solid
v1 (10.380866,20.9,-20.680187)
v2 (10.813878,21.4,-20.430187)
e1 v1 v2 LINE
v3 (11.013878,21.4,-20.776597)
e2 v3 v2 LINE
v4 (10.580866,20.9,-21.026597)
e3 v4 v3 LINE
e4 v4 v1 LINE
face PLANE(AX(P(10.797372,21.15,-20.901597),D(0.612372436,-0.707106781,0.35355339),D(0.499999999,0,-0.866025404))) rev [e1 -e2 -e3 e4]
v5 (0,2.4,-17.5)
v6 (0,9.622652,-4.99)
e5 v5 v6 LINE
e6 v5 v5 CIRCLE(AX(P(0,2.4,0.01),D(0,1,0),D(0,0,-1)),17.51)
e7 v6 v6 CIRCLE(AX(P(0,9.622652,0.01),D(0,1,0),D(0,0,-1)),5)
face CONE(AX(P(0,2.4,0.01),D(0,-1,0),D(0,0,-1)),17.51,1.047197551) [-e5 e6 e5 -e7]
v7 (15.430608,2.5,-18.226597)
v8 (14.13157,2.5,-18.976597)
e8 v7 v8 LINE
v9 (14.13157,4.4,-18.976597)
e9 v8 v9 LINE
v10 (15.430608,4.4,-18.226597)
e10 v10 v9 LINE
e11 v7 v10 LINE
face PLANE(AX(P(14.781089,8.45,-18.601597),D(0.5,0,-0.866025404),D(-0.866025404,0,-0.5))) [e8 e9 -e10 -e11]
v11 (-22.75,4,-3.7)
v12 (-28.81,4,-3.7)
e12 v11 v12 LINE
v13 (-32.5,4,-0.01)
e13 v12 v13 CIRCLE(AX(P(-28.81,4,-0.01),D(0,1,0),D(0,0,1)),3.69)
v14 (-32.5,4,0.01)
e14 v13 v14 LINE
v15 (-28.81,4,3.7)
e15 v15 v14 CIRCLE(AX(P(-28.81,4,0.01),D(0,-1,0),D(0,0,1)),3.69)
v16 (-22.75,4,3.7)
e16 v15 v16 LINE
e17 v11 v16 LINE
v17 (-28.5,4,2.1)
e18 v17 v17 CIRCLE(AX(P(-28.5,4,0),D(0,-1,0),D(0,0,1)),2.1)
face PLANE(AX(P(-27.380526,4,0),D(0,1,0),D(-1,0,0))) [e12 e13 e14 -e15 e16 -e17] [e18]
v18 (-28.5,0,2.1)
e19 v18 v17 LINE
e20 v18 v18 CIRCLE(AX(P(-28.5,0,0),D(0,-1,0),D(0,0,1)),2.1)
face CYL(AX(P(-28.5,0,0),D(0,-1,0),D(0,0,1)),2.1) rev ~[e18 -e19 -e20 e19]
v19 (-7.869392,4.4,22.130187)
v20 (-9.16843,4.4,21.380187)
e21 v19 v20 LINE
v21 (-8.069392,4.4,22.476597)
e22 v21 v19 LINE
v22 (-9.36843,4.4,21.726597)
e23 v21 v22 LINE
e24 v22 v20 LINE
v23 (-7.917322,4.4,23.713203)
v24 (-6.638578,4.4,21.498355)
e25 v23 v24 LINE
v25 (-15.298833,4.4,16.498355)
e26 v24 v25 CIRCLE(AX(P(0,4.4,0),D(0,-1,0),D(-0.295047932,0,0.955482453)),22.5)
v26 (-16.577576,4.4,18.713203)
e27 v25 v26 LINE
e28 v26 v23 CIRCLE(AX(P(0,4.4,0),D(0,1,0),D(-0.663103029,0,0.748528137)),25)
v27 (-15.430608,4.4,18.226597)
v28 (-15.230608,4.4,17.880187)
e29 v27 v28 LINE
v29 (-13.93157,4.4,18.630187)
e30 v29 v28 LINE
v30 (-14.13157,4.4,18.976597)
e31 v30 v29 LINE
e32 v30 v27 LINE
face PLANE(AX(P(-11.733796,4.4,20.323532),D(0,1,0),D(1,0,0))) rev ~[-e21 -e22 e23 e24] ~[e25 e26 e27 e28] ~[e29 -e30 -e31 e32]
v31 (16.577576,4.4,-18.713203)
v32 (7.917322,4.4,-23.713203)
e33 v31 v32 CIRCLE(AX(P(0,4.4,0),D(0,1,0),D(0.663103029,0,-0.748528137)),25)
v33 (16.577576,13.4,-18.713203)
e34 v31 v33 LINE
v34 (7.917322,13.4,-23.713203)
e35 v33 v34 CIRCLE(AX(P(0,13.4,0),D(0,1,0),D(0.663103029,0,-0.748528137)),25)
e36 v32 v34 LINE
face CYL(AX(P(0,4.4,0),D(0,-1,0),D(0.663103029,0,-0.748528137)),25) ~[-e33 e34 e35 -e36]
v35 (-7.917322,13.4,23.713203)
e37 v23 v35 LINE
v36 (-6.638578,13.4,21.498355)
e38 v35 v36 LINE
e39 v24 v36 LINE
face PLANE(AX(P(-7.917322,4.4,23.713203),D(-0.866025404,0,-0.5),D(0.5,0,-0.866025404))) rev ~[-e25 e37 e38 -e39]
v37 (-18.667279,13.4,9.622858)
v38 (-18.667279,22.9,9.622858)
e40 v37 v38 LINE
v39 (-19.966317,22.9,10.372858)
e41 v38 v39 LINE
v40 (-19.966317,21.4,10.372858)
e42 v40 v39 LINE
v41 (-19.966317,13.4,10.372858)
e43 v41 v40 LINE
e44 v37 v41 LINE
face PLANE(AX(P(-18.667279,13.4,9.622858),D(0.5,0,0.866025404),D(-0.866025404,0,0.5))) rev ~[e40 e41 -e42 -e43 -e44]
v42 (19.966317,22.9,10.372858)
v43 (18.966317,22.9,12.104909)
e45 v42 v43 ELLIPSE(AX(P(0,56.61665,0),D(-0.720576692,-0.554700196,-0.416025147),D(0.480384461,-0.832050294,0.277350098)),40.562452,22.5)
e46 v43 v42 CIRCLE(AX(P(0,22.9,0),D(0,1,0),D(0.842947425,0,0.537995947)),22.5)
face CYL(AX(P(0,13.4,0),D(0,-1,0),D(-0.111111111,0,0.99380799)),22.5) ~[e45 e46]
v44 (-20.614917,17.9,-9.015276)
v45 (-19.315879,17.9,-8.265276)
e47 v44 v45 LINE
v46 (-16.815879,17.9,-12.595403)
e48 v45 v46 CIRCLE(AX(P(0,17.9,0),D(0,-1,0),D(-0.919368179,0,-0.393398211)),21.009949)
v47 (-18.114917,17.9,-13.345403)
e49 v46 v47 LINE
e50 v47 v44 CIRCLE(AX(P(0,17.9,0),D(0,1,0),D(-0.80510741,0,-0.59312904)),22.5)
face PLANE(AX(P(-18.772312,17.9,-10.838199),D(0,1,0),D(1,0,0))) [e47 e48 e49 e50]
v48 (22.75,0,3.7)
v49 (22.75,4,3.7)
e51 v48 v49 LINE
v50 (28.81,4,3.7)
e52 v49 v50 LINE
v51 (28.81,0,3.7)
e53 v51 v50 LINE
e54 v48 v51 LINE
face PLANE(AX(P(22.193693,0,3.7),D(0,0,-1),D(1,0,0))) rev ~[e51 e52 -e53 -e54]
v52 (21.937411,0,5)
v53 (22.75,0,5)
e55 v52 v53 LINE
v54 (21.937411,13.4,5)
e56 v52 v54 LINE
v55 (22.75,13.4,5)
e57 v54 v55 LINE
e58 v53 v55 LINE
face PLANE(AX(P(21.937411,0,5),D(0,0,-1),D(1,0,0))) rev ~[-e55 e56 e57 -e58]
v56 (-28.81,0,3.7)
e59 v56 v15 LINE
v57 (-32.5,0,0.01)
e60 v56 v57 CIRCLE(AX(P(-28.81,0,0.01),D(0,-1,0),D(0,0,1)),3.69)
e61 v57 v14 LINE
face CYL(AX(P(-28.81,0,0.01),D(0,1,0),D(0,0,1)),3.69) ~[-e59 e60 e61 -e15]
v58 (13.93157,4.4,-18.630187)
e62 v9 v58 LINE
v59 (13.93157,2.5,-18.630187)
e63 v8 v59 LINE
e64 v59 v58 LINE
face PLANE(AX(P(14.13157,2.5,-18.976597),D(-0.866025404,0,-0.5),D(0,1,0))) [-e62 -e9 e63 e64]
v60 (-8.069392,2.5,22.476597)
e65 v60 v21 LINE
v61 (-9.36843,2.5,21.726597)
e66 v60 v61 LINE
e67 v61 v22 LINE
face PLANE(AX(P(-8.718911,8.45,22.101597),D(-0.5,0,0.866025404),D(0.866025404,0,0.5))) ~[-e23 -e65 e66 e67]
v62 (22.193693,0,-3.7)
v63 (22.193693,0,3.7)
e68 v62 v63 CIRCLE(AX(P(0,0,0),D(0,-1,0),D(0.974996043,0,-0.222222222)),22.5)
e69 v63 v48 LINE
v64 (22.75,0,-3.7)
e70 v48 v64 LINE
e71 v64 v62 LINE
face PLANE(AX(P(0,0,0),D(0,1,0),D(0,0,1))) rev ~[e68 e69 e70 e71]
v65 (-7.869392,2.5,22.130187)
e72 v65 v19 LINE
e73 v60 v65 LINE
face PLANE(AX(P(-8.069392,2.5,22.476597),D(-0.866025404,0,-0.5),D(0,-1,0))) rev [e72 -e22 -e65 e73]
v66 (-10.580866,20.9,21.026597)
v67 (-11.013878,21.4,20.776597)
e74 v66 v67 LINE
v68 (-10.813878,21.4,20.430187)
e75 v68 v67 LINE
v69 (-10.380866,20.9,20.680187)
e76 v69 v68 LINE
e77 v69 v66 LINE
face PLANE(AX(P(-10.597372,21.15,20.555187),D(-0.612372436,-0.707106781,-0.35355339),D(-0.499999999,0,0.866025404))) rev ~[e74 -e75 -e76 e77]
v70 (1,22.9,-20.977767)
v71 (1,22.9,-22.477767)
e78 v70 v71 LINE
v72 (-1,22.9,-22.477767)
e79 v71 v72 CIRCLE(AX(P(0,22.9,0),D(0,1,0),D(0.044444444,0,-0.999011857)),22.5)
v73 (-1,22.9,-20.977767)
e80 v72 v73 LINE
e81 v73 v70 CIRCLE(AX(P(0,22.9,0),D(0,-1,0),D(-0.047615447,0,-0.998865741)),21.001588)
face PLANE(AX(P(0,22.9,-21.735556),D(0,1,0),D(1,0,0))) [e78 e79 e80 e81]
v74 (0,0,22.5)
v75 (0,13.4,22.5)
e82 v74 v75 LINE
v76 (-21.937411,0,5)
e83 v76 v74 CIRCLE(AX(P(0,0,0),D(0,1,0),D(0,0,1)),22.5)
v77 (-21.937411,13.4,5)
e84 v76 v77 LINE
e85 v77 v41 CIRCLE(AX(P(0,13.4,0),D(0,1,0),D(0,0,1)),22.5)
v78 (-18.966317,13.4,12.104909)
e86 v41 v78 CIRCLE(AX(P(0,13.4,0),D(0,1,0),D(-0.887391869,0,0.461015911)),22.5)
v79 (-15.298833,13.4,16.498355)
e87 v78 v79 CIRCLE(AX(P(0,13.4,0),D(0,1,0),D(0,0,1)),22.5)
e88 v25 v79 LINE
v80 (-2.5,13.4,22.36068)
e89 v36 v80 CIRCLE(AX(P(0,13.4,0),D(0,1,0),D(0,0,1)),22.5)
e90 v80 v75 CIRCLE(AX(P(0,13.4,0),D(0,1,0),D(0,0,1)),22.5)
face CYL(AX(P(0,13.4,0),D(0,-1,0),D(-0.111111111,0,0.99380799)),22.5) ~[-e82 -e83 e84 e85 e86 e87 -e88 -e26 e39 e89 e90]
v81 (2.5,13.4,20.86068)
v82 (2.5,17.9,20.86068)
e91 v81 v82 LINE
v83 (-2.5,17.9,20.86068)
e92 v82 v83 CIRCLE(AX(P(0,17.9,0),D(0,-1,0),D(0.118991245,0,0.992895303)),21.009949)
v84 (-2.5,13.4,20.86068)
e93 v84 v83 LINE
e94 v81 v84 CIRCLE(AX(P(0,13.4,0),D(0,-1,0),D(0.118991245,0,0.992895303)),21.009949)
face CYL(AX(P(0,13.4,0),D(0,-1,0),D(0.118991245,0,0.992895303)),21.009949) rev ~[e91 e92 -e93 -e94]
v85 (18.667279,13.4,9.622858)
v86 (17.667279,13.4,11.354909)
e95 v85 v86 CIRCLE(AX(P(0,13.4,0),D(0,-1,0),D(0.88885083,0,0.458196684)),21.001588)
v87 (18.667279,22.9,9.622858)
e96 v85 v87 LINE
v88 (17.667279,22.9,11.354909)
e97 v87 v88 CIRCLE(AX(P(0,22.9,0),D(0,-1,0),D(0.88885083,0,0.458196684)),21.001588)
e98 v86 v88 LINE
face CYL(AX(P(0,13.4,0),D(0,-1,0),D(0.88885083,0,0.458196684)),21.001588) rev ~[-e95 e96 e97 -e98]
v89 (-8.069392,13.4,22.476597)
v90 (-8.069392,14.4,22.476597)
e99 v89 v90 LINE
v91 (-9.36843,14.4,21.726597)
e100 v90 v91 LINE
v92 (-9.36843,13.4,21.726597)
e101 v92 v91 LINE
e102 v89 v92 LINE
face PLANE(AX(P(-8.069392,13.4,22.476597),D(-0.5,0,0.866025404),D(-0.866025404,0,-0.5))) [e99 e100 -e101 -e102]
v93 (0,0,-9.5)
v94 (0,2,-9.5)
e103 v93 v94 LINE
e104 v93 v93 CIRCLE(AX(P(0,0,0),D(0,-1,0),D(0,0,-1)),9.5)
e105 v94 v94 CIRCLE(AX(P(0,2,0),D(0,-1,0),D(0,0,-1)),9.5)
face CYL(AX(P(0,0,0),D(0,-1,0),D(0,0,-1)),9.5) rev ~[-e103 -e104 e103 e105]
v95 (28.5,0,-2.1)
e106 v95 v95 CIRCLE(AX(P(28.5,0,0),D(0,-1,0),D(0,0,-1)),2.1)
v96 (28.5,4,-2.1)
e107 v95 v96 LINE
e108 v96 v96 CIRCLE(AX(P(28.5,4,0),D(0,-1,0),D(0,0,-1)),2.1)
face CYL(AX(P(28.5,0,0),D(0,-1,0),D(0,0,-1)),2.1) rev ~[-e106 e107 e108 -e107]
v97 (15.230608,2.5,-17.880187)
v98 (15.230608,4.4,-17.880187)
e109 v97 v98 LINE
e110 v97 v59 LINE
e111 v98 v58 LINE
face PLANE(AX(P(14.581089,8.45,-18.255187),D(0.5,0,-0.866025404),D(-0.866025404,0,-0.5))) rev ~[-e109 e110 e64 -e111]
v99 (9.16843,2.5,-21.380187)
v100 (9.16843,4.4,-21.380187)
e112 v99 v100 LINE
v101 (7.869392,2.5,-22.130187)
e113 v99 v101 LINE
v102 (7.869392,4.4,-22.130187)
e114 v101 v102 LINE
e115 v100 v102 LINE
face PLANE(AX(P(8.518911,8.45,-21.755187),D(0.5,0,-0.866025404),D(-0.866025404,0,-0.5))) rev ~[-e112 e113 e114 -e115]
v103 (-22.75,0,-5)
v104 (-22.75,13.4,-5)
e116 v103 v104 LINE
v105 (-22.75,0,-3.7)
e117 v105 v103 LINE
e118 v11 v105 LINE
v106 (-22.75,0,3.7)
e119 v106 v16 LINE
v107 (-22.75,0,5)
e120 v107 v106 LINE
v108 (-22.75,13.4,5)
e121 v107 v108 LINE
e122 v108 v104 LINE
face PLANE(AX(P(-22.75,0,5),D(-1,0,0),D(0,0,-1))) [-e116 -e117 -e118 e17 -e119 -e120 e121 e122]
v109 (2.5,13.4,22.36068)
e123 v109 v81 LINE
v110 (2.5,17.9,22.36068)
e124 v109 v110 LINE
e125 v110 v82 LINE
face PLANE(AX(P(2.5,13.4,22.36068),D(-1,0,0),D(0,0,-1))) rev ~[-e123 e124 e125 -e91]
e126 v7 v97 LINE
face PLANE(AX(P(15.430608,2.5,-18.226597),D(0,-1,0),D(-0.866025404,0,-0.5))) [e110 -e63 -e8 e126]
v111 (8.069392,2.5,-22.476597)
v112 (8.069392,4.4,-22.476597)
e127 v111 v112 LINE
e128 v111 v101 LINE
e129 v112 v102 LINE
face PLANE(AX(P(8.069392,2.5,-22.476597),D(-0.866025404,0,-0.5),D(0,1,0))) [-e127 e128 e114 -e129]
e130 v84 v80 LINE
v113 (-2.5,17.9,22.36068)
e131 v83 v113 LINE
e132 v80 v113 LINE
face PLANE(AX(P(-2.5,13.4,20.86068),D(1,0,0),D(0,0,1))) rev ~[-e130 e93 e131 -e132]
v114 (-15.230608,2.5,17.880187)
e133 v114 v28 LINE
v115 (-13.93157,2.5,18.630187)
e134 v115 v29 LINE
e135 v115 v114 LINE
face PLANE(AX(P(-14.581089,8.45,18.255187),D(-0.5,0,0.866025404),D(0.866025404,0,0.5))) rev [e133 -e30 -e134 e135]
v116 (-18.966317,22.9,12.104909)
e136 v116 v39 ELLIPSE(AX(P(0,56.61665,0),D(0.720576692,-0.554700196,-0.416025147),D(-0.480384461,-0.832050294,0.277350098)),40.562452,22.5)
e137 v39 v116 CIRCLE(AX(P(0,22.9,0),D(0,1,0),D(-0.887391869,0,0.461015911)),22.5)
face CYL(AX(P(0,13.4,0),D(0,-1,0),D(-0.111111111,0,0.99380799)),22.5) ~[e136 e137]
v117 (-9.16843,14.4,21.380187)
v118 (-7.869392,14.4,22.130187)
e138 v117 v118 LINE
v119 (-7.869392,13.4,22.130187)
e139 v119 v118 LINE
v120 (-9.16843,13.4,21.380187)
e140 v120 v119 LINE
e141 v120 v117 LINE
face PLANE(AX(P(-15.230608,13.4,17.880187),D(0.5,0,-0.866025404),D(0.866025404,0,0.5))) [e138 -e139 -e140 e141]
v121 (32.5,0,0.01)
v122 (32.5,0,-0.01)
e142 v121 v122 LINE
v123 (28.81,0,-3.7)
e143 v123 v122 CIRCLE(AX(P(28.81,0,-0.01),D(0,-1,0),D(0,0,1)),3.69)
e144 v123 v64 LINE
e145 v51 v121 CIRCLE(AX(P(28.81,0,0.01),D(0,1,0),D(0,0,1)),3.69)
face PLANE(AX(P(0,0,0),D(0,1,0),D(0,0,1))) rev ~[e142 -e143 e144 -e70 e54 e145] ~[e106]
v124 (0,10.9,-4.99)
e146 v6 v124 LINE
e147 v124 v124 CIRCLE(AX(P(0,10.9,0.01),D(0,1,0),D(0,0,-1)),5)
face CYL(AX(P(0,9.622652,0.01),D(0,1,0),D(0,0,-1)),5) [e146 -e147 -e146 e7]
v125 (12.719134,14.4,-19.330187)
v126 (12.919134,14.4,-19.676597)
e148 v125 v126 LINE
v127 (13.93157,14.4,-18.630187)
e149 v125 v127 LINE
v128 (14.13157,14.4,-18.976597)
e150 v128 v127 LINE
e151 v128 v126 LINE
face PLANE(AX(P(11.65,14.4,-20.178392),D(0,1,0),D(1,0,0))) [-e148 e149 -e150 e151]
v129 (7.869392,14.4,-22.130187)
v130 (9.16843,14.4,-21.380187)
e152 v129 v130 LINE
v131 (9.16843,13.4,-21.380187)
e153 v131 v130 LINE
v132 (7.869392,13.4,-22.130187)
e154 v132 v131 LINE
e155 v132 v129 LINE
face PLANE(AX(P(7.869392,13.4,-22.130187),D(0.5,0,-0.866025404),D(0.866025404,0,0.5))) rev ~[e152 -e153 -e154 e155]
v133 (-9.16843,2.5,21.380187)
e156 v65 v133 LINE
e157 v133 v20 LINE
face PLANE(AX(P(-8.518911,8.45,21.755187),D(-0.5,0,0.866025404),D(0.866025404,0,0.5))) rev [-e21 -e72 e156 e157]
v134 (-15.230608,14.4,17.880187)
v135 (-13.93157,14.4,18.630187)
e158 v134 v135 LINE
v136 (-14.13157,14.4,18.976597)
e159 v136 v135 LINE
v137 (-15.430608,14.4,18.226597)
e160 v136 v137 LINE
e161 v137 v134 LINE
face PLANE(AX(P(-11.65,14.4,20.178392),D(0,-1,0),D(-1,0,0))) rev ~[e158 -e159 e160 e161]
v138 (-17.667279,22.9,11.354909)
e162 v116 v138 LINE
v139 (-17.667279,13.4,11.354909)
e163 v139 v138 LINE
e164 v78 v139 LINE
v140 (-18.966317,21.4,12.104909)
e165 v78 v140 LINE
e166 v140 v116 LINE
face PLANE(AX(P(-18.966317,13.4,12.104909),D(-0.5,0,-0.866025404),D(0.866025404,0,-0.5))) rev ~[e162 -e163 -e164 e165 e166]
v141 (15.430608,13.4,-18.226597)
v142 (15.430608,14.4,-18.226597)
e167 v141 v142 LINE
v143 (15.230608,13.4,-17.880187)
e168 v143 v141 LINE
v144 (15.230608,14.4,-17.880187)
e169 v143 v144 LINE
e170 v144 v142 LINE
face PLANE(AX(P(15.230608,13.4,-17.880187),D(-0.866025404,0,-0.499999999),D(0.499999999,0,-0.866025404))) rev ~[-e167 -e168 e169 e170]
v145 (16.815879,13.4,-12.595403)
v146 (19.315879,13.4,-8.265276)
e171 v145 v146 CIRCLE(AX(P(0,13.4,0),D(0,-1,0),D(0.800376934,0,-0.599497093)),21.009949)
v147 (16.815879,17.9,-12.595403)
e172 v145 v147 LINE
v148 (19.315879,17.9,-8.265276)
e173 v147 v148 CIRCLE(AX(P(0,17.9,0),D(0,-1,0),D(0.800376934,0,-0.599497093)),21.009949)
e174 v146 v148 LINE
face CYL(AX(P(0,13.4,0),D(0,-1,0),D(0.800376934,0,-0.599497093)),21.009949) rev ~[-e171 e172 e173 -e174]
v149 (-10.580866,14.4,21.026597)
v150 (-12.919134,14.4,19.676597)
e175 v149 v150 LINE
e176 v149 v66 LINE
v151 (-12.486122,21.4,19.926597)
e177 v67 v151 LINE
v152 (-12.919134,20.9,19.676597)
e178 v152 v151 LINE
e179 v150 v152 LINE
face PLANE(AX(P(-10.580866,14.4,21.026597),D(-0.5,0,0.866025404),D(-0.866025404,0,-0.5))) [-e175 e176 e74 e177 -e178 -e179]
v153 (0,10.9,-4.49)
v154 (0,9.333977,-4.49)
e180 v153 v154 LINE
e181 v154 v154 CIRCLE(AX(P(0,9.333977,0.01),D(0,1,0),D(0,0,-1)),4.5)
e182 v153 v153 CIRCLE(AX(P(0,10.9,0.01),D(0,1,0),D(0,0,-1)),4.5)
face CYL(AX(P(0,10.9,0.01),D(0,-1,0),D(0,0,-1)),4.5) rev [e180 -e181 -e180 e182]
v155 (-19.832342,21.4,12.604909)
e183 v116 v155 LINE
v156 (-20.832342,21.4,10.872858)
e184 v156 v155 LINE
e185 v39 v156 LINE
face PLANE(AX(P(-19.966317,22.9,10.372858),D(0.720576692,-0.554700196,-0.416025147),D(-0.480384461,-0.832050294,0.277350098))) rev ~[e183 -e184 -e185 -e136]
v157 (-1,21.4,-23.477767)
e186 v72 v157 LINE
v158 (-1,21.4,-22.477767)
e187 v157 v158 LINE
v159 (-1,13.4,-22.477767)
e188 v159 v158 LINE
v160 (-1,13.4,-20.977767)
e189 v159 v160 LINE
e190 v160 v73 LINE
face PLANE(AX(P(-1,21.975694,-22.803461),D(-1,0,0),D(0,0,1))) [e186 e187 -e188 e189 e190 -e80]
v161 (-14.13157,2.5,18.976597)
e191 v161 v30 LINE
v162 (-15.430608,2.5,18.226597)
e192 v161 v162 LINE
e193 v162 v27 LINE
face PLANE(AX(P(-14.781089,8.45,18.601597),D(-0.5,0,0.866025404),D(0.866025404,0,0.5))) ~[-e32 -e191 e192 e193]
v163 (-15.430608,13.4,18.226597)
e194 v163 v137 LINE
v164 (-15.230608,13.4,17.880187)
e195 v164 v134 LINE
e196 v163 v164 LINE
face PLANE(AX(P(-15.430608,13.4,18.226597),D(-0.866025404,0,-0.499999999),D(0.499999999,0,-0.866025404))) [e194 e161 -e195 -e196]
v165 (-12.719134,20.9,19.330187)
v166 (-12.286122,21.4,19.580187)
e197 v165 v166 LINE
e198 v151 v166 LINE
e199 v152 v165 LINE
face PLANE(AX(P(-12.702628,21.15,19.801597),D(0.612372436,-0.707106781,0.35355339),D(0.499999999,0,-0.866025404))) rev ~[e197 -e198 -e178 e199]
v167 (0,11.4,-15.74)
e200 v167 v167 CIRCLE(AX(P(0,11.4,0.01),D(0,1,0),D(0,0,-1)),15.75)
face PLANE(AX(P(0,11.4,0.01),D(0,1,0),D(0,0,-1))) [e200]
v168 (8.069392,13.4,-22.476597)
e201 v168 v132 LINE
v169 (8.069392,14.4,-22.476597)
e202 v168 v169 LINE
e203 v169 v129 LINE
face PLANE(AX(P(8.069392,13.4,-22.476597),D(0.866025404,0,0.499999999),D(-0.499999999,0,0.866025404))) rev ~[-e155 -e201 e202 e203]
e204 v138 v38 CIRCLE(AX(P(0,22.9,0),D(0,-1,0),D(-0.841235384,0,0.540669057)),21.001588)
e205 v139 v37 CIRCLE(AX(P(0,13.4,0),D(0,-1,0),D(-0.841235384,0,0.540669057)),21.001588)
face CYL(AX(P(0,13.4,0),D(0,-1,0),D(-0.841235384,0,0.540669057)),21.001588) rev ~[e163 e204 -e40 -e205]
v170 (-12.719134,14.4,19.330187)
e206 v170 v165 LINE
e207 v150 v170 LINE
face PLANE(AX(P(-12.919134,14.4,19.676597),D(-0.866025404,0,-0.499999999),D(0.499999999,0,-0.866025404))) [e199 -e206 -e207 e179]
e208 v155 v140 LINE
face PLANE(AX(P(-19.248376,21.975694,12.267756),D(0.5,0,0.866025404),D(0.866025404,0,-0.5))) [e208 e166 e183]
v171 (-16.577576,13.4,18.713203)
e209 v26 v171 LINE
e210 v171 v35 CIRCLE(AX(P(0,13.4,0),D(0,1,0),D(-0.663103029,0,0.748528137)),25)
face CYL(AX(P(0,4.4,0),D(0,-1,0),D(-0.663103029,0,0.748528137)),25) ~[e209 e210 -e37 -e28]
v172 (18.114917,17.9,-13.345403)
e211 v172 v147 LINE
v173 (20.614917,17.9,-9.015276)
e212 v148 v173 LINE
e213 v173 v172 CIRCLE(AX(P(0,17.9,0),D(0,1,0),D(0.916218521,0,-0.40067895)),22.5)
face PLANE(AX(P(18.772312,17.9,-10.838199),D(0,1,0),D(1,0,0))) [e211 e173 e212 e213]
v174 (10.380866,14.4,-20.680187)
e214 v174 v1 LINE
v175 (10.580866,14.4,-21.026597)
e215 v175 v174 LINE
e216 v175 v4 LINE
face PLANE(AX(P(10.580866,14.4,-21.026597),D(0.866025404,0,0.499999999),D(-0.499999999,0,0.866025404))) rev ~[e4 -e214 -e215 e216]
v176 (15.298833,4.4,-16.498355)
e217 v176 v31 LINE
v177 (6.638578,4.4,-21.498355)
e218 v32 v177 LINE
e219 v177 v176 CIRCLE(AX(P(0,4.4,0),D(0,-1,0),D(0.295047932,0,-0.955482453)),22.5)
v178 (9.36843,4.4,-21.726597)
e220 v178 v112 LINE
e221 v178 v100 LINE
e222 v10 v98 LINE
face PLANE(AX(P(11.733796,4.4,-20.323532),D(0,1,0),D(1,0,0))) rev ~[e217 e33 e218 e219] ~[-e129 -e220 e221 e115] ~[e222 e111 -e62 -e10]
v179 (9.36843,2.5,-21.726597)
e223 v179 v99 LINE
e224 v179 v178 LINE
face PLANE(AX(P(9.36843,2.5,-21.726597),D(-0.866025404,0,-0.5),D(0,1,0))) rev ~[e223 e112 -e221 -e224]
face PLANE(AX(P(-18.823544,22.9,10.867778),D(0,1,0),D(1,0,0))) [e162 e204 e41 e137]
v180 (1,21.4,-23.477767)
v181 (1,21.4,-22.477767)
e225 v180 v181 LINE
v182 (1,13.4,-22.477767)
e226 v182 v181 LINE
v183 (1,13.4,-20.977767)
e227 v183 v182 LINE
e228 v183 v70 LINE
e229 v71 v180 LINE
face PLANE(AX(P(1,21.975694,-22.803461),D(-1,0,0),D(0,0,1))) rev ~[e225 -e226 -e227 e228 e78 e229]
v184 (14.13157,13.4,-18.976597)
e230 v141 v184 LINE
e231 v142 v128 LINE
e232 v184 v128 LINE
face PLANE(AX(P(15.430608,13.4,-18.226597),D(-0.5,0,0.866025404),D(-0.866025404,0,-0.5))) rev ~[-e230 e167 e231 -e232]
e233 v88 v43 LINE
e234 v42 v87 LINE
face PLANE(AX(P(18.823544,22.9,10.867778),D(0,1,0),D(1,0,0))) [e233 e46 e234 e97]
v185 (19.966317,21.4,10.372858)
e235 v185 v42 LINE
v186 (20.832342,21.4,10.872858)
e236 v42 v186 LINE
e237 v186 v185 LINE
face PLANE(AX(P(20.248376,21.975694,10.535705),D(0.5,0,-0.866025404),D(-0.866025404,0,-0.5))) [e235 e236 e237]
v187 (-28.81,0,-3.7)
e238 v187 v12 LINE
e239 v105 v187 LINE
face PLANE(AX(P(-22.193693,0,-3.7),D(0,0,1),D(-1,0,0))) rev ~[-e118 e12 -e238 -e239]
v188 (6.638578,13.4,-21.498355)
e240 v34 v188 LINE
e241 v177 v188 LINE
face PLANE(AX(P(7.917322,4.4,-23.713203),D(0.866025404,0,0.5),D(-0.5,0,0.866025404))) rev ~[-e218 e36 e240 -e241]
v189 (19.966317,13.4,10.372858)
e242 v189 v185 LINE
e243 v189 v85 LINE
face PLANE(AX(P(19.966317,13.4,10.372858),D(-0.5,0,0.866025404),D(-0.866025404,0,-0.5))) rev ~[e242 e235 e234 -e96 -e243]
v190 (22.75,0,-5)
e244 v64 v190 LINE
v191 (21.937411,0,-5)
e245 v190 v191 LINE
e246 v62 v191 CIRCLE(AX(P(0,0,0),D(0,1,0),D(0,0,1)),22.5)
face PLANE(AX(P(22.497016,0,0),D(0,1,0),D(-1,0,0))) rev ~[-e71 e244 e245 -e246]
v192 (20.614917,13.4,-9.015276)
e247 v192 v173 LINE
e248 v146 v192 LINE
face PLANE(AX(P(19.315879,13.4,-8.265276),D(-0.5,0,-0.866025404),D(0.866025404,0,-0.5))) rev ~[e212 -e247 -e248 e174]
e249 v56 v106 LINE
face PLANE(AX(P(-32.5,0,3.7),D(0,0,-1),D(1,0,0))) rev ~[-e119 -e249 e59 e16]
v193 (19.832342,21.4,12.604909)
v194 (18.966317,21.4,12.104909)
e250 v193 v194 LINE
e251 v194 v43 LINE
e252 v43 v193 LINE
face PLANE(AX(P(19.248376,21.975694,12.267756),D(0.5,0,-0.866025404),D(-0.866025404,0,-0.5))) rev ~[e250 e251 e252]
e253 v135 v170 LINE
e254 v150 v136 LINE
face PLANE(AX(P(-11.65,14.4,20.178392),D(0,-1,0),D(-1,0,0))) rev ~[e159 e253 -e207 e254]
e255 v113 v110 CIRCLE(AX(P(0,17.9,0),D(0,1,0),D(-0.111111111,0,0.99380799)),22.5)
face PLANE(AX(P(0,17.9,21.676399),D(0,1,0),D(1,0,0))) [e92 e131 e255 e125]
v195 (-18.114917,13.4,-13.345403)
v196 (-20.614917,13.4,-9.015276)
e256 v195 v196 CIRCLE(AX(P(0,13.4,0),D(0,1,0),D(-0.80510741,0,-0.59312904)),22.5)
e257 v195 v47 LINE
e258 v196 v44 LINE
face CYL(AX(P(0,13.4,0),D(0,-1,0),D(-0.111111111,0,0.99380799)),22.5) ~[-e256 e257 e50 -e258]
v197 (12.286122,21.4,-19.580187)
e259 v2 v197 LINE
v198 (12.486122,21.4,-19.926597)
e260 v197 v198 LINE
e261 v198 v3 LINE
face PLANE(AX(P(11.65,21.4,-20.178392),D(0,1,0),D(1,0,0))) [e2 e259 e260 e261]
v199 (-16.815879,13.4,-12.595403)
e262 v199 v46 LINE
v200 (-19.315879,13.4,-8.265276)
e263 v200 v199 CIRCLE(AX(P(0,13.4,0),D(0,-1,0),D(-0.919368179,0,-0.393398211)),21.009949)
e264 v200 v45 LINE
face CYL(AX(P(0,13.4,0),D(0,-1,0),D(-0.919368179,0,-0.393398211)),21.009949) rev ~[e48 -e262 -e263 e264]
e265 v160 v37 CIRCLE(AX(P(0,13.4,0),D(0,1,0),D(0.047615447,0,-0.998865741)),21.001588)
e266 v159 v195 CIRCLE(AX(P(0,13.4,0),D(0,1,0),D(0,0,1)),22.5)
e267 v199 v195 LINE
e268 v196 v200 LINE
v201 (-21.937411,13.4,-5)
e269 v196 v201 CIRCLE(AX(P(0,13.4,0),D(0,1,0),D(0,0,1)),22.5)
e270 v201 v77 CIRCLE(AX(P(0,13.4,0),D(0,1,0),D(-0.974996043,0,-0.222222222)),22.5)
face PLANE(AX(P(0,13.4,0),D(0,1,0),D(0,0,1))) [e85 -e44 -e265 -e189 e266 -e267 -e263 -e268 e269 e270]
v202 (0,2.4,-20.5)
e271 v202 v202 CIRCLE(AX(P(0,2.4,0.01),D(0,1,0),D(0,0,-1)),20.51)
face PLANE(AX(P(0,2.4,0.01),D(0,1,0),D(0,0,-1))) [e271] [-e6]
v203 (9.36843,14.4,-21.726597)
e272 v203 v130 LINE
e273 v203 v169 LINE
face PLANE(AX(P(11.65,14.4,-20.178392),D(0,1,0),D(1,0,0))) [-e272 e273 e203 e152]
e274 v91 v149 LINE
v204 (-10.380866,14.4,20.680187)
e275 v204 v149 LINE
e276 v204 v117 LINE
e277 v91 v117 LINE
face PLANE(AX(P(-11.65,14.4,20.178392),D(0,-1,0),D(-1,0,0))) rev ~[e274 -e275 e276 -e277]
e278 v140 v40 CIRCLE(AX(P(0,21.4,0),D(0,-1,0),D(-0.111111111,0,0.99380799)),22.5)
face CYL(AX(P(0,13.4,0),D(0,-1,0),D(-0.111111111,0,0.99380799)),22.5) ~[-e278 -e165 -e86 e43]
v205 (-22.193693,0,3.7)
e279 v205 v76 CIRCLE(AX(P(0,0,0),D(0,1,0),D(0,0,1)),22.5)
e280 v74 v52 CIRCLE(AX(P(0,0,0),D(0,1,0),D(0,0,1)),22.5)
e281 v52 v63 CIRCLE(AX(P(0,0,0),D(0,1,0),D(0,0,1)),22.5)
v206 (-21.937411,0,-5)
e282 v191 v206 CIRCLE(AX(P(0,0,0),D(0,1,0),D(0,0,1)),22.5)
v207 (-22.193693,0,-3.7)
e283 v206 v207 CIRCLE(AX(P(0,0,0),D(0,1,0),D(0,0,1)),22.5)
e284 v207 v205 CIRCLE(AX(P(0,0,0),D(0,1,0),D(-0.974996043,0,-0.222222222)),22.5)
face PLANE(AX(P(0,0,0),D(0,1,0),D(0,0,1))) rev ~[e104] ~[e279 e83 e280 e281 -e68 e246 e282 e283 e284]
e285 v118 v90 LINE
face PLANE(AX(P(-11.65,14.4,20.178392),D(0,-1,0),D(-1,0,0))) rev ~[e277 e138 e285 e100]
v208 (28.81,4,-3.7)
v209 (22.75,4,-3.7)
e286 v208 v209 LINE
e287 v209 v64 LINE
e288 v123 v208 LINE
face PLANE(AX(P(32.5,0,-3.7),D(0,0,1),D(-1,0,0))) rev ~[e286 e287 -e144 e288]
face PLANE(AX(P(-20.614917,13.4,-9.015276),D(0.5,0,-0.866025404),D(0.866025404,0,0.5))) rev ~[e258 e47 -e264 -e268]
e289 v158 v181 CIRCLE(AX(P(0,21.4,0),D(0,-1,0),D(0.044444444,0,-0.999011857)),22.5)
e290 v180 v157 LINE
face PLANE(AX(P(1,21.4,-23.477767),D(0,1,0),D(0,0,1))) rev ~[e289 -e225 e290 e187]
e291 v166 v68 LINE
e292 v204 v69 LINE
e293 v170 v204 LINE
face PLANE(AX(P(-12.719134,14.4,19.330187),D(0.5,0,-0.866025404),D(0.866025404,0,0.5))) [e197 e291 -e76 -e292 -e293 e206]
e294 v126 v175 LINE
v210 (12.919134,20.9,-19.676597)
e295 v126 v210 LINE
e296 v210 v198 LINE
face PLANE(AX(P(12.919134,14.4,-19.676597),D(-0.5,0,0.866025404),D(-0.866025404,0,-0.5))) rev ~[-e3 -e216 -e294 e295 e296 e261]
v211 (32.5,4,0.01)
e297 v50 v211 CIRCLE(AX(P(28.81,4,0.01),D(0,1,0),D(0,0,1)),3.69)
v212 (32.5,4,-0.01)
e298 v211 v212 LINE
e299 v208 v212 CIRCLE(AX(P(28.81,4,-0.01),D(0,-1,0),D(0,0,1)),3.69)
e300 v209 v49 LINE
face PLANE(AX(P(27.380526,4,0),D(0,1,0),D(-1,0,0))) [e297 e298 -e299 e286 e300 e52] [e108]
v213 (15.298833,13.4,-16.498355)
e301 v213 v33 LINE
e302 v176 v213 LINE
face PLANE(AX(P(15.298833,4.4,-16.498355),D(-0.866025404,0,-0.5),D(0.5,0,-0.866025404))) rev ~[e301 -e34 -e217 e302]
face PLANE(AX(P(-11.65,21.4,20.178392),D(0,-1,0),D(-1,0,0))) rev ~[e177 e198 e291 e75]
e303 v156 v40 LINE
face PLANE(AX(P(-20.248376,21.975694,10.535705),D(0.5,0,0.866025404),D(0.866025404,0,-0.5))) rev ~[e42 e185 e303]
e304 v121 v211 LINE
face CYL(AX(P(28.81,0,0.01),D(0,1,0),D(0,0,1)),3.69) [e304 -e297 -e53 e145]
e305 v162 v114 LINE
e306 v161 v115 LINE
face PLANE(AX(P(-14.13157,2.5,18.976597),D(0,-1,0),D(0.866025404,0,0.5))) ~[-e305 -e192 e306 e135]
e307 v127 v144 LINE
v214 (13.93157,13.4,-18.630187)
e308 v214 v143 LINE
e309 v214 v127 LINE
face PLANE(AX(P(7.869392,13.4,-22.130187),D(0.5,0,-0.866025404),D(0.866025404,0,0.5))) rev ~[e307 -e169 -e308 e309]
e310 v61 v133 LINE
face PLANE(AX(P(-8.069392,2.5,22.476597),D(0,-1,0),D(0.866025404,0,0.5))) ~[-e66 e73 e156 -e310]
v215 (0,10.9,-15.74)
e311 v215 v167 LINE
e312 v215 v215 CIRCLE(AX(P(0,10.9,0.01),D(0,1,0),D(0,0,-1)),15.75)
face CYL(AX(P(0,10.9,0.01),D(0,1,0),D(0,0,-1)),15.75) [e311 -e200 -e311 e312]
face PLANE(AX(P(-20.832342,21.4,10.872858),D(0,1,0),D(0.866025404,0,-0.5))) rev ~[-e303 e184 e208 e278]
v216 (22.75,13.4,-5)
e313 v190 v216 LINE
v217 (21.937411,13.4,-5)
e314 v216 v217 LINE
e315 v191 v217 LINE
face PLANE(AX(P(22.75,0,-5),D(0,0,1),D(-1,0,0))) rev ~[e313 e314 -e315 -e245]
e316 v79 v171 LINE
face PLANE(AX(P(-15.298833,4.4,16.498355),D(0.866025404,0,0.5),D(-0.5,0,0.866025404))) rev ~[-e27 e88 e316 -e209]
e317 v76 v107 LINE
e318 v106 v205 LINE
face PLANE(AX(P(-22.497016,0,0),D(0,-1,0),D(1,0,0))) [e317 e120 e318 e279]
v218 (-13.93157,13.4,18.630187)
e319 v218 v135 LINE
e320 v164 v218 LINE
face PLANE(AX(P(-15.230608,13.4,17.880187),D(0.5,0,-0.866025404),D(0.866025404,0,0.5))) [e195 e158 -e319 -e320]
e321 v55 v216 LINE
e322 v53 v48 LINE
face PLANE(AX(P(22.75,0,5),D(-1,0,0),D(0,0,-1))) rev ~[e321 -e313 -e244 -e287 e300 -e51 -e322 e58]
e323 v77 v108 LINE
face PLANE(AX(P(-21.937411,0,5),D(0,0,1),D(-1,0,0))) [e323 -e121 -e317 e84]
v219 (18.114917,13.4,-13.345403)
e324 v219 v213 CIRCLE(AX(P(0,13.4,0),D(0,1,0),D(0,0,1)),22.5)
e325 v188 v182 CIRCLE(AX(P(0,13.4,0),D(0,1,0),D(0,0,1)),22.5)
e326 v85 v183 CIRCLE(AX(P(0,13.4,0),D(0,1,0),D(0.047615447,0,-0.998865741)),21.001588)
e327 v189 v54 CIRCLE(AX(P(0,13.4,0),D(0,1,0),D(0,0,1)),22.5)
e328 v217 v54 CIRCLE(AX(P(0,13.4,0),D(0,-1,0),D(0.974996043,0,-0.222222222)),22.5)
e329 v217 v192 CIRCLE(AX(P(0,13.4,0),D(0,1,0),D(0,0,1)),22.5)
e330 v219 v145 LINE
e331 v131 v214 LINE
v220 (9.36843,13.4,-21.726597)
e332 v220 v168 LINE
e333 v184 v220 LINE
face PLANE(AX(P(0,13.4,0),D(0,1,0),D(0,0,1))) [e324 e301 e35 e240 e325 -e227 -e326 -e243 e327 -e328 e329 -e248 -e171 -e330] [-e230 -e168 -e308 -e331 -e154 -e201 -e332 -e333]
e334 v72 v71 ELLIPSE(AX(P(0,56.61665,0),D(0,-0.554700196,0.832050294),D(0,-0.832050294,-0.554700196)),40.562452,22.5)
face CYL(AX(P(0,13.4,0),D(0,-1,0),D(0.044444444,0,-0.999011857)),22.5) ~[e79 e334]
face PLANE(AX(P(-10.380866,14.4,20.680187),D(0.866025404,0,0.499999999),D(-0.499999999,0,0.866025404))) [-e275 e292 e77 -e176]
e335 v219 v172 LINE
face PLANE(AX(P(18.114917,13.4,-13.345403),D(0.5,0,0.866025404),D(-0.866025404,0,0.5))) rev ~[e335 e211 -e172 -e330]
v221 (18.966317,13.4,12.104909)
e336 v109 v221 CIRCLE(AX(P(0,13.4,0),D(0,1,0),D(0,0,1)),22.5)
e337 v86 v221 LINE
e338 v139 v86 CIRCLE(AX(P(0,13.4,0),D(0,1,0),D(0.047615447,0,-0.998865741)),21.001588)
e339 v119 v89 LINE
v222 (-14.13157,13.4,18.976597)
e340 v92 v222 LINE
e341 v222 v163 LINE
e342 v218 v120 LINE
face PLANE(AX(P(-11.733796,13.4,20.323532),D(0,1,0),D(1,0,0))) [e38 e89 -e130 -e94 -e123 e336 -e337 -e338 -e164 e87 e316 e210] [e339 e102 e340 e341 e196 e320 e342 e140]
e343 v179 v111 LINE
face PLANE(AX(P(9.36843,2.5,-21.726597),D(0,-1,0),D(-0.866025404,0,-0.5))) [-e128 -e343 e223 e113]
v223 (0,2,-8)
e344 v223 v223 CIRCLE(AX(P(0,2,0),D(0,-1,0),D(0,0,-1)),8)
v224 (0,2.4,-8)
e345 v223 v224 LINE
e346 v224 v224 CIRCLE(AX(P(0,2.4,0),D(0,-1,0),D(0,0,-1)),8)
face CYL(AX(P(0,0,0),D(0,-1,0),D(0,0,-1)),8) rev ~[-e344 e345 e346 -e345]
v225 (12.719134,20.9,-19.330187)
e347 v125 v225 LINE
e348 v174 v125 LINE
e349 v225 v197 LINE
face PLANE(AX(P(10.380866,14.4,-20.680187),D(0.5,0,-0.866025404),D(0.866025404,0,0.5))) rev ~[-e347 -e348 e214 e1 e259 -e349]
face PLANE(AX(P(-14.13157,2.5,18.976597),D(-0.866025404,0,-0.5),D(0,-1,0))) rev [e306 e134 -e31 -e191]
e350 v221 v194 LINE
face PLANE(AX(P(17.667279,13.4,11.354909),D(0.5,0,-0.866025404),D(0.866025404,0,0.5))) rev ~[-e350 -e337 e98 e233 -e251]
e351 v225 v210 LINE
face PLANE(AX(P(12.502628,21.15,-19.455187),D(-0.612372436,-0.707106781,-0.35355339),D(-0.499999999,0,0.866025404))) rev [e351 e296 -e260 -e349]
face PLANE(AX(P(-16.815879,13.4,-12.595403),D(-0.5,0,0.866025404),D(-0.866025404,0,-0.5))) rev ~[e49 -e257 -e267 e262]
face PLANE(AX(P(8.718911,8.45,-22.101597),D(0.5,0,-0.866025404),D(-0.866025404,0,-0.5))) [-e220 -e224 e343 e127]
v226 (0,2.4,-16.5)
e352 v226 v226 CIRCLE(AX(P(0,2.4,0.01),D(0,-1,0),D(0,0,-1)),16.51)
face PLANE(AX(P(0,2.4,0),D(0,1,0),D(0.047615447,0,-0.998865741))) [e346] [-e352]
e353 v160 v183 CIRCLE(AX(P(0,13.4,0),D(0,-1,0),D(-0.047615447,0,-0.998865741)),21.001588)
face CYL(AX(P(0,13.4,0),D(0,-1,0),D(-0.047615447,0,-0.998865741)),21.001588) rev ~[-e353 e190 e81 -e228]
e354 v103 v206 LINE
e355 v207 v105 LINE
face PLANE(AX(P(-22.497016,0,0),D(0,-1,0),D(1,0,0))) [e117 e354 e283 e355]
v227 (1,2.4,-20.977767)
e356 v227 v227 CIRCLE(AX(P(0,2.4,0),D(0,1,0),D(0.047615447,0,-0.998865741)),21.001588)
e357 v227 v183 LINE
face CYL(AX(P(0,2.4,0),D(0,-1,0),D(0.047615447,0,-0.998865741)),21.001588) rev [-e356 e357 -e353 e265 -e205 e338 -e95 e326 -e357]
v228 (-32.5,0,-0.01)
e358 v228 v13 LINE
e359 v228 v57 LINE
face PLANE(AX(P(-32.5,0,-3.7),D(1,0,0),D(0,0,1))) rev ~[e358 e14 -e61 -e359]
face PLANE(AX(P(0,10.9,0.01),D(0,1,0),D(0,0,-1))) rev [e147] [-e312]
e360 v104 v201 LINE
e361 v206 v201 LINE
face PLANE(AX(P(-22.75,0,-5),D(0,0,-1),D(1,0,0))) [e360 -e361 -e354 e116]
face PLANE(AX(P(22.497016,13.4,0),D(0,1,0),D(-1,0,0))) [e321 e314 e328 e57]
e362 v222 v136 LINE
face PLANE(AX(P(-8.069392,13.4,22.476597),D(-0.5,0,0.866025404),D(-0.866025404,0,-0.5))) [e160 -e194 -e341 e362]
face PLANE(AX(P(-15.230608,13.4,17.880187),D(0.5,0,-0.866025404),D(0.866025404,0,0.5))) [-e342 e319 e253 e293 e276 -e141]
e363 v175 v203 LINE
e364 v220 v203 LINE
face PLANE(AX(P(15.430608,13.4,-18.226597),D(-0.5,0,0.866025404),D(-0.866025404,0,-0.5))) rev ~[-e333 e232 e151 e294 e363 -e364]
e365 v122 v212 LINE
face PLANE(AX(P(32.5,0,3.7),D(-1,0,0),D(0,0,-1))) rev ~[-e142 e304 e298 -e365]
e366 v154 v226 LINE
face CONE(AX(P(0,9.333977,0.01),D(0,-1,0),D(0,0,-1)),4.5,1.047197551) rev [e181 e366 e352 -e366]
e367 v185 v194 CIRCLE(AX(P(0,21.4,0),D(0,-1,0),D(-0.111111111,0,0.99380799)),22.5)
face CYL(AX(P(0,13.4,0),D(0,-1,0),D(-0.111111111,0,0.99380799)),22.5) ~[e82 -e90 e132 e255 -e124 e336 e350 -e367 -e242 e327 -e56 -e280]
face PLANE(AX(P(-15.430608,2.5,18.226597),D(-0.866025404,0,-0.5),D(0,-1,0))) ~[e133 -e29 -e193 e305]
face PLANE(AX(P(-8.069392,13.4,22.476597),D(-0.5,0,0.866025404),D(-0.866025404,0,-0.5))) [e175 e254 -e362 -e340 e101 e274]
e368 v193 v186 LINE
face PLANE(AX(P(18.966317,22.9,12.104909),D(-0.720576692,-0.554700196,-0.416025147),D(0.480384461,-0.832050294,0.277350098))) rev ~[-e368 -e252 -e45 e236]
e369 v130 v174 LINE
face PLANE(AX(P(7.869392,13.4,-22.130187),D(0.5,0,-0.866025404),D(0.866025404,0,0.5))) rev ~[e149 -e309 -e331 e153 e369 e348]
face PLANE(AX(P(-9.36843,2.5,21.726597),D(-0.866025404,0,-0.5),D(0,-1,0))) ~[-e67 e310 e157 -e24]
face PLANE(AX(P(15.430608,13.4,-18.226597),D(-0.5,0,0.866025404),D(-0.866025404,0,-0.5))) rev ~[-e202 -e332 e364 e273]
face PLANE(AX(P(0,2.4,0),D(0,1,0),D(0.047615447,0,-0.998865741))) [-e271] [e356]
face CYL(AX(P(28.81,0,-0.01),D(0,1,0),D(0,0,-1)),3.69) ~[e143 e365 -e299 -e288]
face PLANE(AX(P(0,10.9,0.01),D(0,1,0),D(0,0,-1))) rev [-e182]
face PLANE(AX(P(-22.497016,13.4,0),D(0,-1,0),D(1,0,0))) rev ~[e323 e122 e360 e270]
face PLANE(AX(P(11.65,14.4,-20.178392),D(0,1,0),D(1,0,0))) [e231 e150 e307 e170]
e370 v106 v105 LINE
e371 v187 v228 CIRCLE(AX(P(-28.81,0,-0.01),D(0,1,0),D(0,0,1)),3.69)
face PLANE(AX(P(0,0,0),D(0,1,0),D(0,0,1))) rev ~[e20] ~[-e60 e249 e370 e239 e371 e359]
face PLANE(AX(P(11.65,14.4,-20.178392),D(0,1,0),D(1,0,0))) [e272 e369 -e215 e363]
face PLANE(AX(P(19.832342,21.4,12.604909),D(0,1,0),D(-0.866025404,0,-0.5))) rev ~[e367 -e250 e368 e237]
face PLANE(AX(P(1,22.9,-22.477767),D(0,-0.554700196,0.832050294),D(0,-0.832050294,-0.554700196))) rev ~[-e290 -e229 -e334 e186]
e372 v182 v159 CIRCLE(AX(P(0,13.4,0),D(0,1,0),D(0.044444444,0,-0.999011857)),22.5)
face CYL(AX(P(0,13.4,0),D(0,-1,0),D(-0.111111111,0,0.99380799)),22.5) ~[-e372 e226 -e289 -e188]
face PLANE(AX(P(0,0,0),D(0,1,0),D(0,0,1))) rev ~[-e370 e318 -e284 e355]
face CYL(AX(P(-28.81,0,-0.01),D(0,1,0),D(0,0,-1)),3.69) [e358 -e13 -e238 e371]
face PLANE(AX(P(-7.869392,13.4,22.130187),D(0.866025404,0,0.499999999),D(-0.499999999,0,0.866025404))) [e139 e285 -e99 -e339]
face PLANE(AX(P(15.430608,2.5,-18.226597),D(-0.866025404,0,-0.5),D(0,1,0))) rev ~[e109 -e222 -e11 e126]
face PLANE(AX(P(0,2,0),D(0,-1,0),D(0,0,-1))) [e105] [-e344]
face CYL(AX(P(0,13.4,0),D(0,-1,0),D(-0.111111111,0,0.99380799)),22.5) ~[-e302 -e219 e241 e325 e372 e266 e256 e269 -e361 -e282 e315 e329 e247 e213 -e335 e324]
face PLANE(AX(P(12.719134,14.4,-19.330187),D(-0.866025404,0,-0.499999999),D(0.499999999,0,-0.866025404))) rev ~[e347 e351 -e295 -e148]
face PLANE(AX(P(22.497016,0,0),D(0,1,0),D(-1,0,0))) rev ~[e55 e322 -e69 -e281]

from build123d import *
from build123d.topology import SkipClean

# Parameters (mm, degrees)
SKETCH_1_R               = 22.5
EXTRUDE_1_DEPTH          = 13.4
SKETCH_2_R               = 2.1
EXTRUDE_2_DEPTH          = 4
FILLET_1_R               = 3.69
EXTRUDE_3_DEPTH          = 9.5
EXTRUDE_START            = -2
EXTRUDE_5_DEPTH          = 2
EXTRUDE_4_DEPTH          = 4.5
CUT_EXTRUDE_START        = -11
SKETCH_5_R               = 21.001588026
CUT_EXTRUDE_1_DEPTH      = 11
SKETCH_6_R               = 8
CUT_EXTRUDE_2_DEPTH      = 3
PATTERN_CIRCULAR_1_COUNT = 3
EXTRUDE_START_2          = -9
EXTRUDE_6_DEPTH          = 9
EXTRUDE_7_DEPTH          = 1
EXTRUDE_8_DEPTH          = 7
CHAMFER_1_SIZE           = 0.5
SKETCH_13_R              = 9.5
CUT_EXTRUDE_4_DEPTH      = 2
EXTRUDE_10_DEPTH         = 13.4
SKETCH_18_W              = 1.5
SKETCH_18_H              = 11.9
EXTRUDE_11_DEPTH         = 0.4


with BuildPart() as part:
    # Эскиз1 → Бобышка-Вытянуть1 (new body)
    with BuildSketch(Plane(origin=(0, 0, 0), x_dir=(1, 0, 0), z_dir=(0, 1, 0))):
        with Locations(Location((0, 0, 0), (0, 0, 270))):
            Circle(SKETCH_1_R)
    extrude(amount=EXTRUDE_1_DEPTH)

    # Эскиз2 → Бобышка-Вытянуть2 (add)
    # profile 1 of 2: a face of its own
    with BuildSketch(Plane.XZ):
        with BuildLine():
            Line((22.193692798, 3.7), (32.5, 3.7))
            Line((32.5, 3.7), (32.5, -3.7))
            Line((32.5, -3.7), (22.193692798, -3.7))
            ThreePointArc((22.193692798, -3.7), (22.5, 0), (22.193692798, 3.7))
        make_face()
        with Locations(Location((28.5, 0, 0), (0, 0, 270))):
            Circle(SKETCH_2_R, mode=Mode.SUBTRACT)
    # profile 2 of 2: a face of its own
    with BuildSketch(Plane.XZ):
        with BuildLine():
            Line((-22.193692798, -3.7), (-32.5, -3.7))
            Line((-32.5, -3.7), (-32.5, 3.7))
            Line((-32.5, 3.7), (-22.193692798, 3.7))
            ThreePointArc((-22.193692798, 3.7), (-22.5, 0), (-22.193692798, -3.7))
        make_face()
        with Locations(Location((-28.5, 0, 0), (0, 0, 90))):
            Circle(SKETCH_2_R, mode=Mode.SUBTRACT)
    extrude(amount=-EXTRUDE_2_DEPTH)

    # Скругление1
    fillet_1_edges = [part.edges().sort_by_distance(p)[0] for p in [
        (-32.5, 2, -3.7),
        (-32.5, 2, 3.7),
        (32.5, 2, 3.7),
        (32.5, 2, -3.7),
    ]]
    fillet(fillet_1_edges, radius=FILLET_1_R)

    # Эскиз3 → Бобышка-Вытянуть3 (add)
    with BuildSketch(Plane(origin=(0, 13.4, 0), x_dir=(1, 0, 0), z_dir=(0, 1, 0))):
        with BuildLine():
            Line((-1, 22.477766793), (-1, 20.977766793))
            ThreePointArc((-1, 20.977766793), (0, 21.001588026), (1, 20.977766793))
            Line((1, 20.977766793), (1, 22.477766793))
            ThreePointArc((1, 22.477766793), (0, 22.5), (-1, 22.477766793))
        make_face()
        with BuildLine():
            Line((19.966317063, -10.372857993), (18.667278957, -9.622857993))
            ThreePointArc((18.667278957, -9.622857993), (18.18790875, -10.500794013), (17.667278957, -11.3549088))
            Line((17.667278957, -11.3549088), (18.966317063, -12.1049088))
            ThreePointArc((18.966317063, -12.1049088), (19.485571585, -11.25), (19.966317063, -10.372857993))
        make_face()
        with BuildLine():
            Line((-18.966317063, -12.1049088), (-17.667278957, -11.3549088))
            ThreePointArc((-17.667278957, -11.3549088), (-18.18790875, -10.500794013), (-18.667278957, -9.622857993))
            Line((-18.667278957, -9.622857993), (-19.966317063, -10.372857993))
            ThreePointArc((-19.966317063, -10.372857993), (-19.485571585, -11.25), (-18.966317063, -12.1049088))
        make_face()
    extrude(amount=EXTRUDE_3_DEPTH)

    # Эскиз7 → Бобышка-Вытянуть5 (add)
    with BuildSketch(Plane.ZY.offset(1).offset(EXTRUDE_START)):
        Polygon((-22.477766793, 22.9), (-23.477766793, 21.4), (-22.477766793, 21.4), align=None)
    extrude_5 = extrude(amount=EXTRUDE_5_DEPTH)

    # Эскиз4 → Бобышка-Вытянуть4 (add)
    with BuildSketch(Plane(origin=(0, 13.4, 0), x_dir=(1, 0, 0), z_dir=(0, 1, 0))):
        with BuildLine():
            Line((-2.5, -20.860679775), (-2.5, -22.360679775))
            ThreePointArc((-2.5, -22.360679775), (0, -22.5), (2.5, -22.360679775))
            Line((2.5, -22.360679775), (2.5, -20.860679775))
            ThreePointArc((2.5, -20.860679775), (0, -21.009949088), (-2.5, -20.860679775))
        make_face()
        with BuildLine():
            Line((-16.815878625, 12.595403397), (-18.114916731, 13.345403397))
            ThreePointArc((-18.114916731, 13.345403397), (-19.485571585, 11.25), (-20.614916731, 9.015276378))
            Line((-20.614916731, 9.015276378), (-19.315878625, 8.265276378))
            ThreePointArc((-19.315878625, 8.265276378), (-18.195149642, 10.504974544), (-16.815878625, 12.595403397))
        make_face()
        with BuildLine():
            Line((19.315878625, 8.265276378), (20.614916731, 9.015276378))
            ThreePointArc((20.614916731, 9.015276378), (19.485571585, 11.25), (18.114916731, 13.345403397))
            Line((18.114916731, 13.345403397), (16.815878625, 12.595403397))
            ThreePointArc((16.815878625, 12.595403397), (18.195149642, 10.504974544), (19.315878625, 8.265276378))
        make_face()
    extrude(amount=EXTRUDE_4_DEPTH)

    # Эскиз5 → Вырез-Вытянуть1 (cut)
    with SkipClean():  # the faces are left unmerged after this step: merging them gives an invalid solid
        with BuildSketch(Plane(origin=(0, 13.4, 0), x_dir=(1, 0, 0), z_dir=(0, 1, 0)).offset(CUT_EXTRUDE_START)):
            with Locations(Location((0, 0, 0), (0, 0, 87.270803902))):
                Circle(SKETCH_5_R)
        extrude(amount=CUT_EXTRUDE_1_DEPTH, mode=Mode.SUBTRACT)

    # Эскиз6 → Вырез-Вытянуть2 (cut)
    with SkipClean():  # the faces are left unmerged after this step: merging them gives an invalid solid
        with BuildSketch(Plane(origin=(0, 0, 0), x_dir=(-1, 0, 0), z_dir=(0, -1, 0))):
            with Locations(Location((0, 0, 0), (0, 0, 90))):
                Circle(SKETCH_6_R)
        extrude(amount=-CUT_EXTRUDE_2_DEPTH, mode=Mode.SUBTRACT)

    # Круговой массив1: Бобышка-Вытянуть5 ×3 about axis
    with SkipClean():  # the faces are left unmerged after this step: merging them gives an invalid solid
        pattern_circular_1_axis = Axis((0, 0, 0), (0, 1, 0))
        for i in range(1, PATTERN_CIRCULAR_1_COUNT):
            add(extrude_5.rotate(pattern_circular_1_axis, i * 360 / PATTERN_CIRCULAR_1_COUNT))

    # Эскиз8 → Бобышка-Вытянуть6 (add)
    with SkipClean():  # the faces are left unmerged after this step: merging them gives an invalid solid
        with BuildSketch(Plane(origin=(0, 13.4, 0), x_dir=(1, 0, 0), z_dir=(0, 1, 0)).offset(EXTRUDE_START_2)):
            with BuildLine():
                Line((7.917321695, 23.713203436), (6.638578465, 21.498355192))
                ThreePointArc((6.638578465, 21.498355192), (11.25, 19.485571585), (15.298832503, 16.498355192))
                Line((15.298832503, 16.498355192), (16.577575733, 18.713203436))
                ThreePointArc((16.577575733, 18.713203436), (12.5, 21.650635095), (7.917321695, 23.713203436))
            make_face()
            with BuildLine():
                Line((-7.917321695, -23.713203436), (-6.638578465, -21.498355192))
                ThreePointArc((-6.638578465, -21.498355192), (-11.25, -19.485571585), (-15.298832503, -16.498355192))
                Line((-15.298832503, -16.498355192), (-16.577575733, -18.713203436))
                ThreePointArc((-16.577575733, -18.713203436), (-12.5, -21.650635095), (-7.917321695, -23.713203436))
            make_face()
        extrude(amount=EXTRUDE_6_DEPTH)

    # Эскиз9 → Бобышка-Вытянуть7 (add)
    with SkipClean():  # the faces are left unmerged after this step: merging them gives an invalid solid
        with BuildSketch(Plane(origin=(0, 13.4, 0), x_dir=(1, 0, 0), z_dir=(0, 1, 0))):
            Polygon((8.069392034, 22.476596989), (7.869392034, 22.130186827), (15.230607966, 17.880186827), (15.430607966, 18.226596989), align=None)
            Polygon((-8.069392034, -22.476596989), (-15.430607966, -18.226596989), (-15.230607966, -17.880186827), (-7.869392034, -22.130186827), align=None)
        extrude(amount=EXTRUDE_7_DEPTH)

    # Эскиз10 → Бобышка-Вытянуть8 (add)
    with SkipClean():  # the faces are left unmerged after this step: merging them gives an invalid solid
        with BuildSketch(Plane(origin=(0, 14.4, 0), x_dir=(1, 0, 0), z_dir=(0, 1, 0))):
            Polygon((10.580865705, 21.026596989), (10.380865705, 20.680186827), (12.719134295, 19.330186827), (12.919134295, 19.676596989), align=None)
            Polygon((-10.580865705, -21.026596989), (-12.919134295, -19.676596989), (-12.719134295, -19.330186827), (-10.380865705, -20.680186827), align=None)
        extrude(amount=EXTRUDE_8_DEPTH)

    # Фаска1
    chamfer_1_edges = [part.edges().sort_by_distance(p)[0] for p in [
        (10.480865705, 21.4, -20.853391908),
        (12.819134295, 21.4, -19.503391908),
        (-10.480865705, 21.4, 20.853391908),
        (-12.819134295, 21.4, 19.503391908),
    ]]
    chamfer(chamfer_1_edges, length=CHAMFER_1_SIZE)

    # Эскиз11 → Повернуть1 (revolve)
    with SkipClean():  # the faces are left unmerged after this step: merging them gives an invalid solid
        with BuildSketch(Plane(origin=(0, 0, 0), x_dir=(0, 0, -1), z_dir=(1, 0, 0))):
            Polygon((20.5, 2.4), (17.5, 2.4), (4.99, 9.622651868), (4.99, 10.9), (15.74, 10.9), (15.74, 11.4), (-0.01, 11.4), (-0.01, 10.9), (4.49, 10.9), (4.49, 9.333976733), (17.366025404, 1.9), (20.5, 1.9), align=None)
        revolve(axis=Axis((0, 0, 0.01), (0, 1, 0)))

    # Эскиз13 → Вырез-Вытянуть4 (cut)
    with SkipClean():  # the faces are left unmerged after this step: merging them gives an invalid solid
        with BuildSketch(Plane.XZ):
            with Locations(Location((0, 0, 0), (0, 0, 270))):
                Circle(SKETCH_13_R)
        extrude(amount=-CUT_EXTRUDE_4_DEPTH, mode=Mode.SUBTRACT)

    # Эскиз15 → Бобышка-Вытянуть10 (add)
    with SkipClean():  # the faces are left unmerged after this step: merging them gives an invalid solid
        with BuildSketch(Plane.XZ):
            with BuildLine():
                Line((-21.937410968, 5), (-22.75, 5))
                Line((-22.75, 5), (-22.75, -5))
                Line((-22.75, -5), (-21.937410968, -5))
                ThreePointArc((-21.937410968, -5), (-22.5, 0), (-21.937410968, 5))
            make_face()
            with BuildLine():
                Line((22.75, 5), (22.75, -5))
                Line((22.75, -5), (21.937410968, -5))
                ThreePointArc((21.937410968, -5), (22.5, 0), (21.937410968, 5))
                Line((21.937410968, 5), (22.75, 5))
            make_face()
        extrude(amount=-EXTRUDE_10_DEPTH)

    # Эскиз18 → Бобышка-Вытянуть11 (add)
    with SkipClean():  # the faces are left unmerged after this step: merging them gives an invalid solid
        with BuildSketch(Plane(origin=(11.75, 0, -20.351596989), x_dir=(-0.8660254037844386, 0, -0.5), z_dir=(0.5000000000000001, 0, -0.8660254037844387))):
            with Locations((-3.5, 8.45)):
                Rectangle(SKETCH_18_W, SKETCH_18_H)
            with Locations((3.5, 8.45)):
                Rectangle(SKETCH_18_W, SKETCH_18_H)
        extrude_11 = extrude(amount=-EXTRUDE_11_DEPTH)

    # Зеркальное отражение1: Бобышка-Вытянуть11 across plane
    with SkipClean():  # the faces are left unmerged after this step: merging them gives an invalid solid
        add(extrude_11.mirror(Plane(origin=(0, 0, 0), x_dir=(0.8660254037844386, 0, 0.5000000000000002), z_dir=(0.5, 0, -0.8660254037844386))))


solid = part.part
